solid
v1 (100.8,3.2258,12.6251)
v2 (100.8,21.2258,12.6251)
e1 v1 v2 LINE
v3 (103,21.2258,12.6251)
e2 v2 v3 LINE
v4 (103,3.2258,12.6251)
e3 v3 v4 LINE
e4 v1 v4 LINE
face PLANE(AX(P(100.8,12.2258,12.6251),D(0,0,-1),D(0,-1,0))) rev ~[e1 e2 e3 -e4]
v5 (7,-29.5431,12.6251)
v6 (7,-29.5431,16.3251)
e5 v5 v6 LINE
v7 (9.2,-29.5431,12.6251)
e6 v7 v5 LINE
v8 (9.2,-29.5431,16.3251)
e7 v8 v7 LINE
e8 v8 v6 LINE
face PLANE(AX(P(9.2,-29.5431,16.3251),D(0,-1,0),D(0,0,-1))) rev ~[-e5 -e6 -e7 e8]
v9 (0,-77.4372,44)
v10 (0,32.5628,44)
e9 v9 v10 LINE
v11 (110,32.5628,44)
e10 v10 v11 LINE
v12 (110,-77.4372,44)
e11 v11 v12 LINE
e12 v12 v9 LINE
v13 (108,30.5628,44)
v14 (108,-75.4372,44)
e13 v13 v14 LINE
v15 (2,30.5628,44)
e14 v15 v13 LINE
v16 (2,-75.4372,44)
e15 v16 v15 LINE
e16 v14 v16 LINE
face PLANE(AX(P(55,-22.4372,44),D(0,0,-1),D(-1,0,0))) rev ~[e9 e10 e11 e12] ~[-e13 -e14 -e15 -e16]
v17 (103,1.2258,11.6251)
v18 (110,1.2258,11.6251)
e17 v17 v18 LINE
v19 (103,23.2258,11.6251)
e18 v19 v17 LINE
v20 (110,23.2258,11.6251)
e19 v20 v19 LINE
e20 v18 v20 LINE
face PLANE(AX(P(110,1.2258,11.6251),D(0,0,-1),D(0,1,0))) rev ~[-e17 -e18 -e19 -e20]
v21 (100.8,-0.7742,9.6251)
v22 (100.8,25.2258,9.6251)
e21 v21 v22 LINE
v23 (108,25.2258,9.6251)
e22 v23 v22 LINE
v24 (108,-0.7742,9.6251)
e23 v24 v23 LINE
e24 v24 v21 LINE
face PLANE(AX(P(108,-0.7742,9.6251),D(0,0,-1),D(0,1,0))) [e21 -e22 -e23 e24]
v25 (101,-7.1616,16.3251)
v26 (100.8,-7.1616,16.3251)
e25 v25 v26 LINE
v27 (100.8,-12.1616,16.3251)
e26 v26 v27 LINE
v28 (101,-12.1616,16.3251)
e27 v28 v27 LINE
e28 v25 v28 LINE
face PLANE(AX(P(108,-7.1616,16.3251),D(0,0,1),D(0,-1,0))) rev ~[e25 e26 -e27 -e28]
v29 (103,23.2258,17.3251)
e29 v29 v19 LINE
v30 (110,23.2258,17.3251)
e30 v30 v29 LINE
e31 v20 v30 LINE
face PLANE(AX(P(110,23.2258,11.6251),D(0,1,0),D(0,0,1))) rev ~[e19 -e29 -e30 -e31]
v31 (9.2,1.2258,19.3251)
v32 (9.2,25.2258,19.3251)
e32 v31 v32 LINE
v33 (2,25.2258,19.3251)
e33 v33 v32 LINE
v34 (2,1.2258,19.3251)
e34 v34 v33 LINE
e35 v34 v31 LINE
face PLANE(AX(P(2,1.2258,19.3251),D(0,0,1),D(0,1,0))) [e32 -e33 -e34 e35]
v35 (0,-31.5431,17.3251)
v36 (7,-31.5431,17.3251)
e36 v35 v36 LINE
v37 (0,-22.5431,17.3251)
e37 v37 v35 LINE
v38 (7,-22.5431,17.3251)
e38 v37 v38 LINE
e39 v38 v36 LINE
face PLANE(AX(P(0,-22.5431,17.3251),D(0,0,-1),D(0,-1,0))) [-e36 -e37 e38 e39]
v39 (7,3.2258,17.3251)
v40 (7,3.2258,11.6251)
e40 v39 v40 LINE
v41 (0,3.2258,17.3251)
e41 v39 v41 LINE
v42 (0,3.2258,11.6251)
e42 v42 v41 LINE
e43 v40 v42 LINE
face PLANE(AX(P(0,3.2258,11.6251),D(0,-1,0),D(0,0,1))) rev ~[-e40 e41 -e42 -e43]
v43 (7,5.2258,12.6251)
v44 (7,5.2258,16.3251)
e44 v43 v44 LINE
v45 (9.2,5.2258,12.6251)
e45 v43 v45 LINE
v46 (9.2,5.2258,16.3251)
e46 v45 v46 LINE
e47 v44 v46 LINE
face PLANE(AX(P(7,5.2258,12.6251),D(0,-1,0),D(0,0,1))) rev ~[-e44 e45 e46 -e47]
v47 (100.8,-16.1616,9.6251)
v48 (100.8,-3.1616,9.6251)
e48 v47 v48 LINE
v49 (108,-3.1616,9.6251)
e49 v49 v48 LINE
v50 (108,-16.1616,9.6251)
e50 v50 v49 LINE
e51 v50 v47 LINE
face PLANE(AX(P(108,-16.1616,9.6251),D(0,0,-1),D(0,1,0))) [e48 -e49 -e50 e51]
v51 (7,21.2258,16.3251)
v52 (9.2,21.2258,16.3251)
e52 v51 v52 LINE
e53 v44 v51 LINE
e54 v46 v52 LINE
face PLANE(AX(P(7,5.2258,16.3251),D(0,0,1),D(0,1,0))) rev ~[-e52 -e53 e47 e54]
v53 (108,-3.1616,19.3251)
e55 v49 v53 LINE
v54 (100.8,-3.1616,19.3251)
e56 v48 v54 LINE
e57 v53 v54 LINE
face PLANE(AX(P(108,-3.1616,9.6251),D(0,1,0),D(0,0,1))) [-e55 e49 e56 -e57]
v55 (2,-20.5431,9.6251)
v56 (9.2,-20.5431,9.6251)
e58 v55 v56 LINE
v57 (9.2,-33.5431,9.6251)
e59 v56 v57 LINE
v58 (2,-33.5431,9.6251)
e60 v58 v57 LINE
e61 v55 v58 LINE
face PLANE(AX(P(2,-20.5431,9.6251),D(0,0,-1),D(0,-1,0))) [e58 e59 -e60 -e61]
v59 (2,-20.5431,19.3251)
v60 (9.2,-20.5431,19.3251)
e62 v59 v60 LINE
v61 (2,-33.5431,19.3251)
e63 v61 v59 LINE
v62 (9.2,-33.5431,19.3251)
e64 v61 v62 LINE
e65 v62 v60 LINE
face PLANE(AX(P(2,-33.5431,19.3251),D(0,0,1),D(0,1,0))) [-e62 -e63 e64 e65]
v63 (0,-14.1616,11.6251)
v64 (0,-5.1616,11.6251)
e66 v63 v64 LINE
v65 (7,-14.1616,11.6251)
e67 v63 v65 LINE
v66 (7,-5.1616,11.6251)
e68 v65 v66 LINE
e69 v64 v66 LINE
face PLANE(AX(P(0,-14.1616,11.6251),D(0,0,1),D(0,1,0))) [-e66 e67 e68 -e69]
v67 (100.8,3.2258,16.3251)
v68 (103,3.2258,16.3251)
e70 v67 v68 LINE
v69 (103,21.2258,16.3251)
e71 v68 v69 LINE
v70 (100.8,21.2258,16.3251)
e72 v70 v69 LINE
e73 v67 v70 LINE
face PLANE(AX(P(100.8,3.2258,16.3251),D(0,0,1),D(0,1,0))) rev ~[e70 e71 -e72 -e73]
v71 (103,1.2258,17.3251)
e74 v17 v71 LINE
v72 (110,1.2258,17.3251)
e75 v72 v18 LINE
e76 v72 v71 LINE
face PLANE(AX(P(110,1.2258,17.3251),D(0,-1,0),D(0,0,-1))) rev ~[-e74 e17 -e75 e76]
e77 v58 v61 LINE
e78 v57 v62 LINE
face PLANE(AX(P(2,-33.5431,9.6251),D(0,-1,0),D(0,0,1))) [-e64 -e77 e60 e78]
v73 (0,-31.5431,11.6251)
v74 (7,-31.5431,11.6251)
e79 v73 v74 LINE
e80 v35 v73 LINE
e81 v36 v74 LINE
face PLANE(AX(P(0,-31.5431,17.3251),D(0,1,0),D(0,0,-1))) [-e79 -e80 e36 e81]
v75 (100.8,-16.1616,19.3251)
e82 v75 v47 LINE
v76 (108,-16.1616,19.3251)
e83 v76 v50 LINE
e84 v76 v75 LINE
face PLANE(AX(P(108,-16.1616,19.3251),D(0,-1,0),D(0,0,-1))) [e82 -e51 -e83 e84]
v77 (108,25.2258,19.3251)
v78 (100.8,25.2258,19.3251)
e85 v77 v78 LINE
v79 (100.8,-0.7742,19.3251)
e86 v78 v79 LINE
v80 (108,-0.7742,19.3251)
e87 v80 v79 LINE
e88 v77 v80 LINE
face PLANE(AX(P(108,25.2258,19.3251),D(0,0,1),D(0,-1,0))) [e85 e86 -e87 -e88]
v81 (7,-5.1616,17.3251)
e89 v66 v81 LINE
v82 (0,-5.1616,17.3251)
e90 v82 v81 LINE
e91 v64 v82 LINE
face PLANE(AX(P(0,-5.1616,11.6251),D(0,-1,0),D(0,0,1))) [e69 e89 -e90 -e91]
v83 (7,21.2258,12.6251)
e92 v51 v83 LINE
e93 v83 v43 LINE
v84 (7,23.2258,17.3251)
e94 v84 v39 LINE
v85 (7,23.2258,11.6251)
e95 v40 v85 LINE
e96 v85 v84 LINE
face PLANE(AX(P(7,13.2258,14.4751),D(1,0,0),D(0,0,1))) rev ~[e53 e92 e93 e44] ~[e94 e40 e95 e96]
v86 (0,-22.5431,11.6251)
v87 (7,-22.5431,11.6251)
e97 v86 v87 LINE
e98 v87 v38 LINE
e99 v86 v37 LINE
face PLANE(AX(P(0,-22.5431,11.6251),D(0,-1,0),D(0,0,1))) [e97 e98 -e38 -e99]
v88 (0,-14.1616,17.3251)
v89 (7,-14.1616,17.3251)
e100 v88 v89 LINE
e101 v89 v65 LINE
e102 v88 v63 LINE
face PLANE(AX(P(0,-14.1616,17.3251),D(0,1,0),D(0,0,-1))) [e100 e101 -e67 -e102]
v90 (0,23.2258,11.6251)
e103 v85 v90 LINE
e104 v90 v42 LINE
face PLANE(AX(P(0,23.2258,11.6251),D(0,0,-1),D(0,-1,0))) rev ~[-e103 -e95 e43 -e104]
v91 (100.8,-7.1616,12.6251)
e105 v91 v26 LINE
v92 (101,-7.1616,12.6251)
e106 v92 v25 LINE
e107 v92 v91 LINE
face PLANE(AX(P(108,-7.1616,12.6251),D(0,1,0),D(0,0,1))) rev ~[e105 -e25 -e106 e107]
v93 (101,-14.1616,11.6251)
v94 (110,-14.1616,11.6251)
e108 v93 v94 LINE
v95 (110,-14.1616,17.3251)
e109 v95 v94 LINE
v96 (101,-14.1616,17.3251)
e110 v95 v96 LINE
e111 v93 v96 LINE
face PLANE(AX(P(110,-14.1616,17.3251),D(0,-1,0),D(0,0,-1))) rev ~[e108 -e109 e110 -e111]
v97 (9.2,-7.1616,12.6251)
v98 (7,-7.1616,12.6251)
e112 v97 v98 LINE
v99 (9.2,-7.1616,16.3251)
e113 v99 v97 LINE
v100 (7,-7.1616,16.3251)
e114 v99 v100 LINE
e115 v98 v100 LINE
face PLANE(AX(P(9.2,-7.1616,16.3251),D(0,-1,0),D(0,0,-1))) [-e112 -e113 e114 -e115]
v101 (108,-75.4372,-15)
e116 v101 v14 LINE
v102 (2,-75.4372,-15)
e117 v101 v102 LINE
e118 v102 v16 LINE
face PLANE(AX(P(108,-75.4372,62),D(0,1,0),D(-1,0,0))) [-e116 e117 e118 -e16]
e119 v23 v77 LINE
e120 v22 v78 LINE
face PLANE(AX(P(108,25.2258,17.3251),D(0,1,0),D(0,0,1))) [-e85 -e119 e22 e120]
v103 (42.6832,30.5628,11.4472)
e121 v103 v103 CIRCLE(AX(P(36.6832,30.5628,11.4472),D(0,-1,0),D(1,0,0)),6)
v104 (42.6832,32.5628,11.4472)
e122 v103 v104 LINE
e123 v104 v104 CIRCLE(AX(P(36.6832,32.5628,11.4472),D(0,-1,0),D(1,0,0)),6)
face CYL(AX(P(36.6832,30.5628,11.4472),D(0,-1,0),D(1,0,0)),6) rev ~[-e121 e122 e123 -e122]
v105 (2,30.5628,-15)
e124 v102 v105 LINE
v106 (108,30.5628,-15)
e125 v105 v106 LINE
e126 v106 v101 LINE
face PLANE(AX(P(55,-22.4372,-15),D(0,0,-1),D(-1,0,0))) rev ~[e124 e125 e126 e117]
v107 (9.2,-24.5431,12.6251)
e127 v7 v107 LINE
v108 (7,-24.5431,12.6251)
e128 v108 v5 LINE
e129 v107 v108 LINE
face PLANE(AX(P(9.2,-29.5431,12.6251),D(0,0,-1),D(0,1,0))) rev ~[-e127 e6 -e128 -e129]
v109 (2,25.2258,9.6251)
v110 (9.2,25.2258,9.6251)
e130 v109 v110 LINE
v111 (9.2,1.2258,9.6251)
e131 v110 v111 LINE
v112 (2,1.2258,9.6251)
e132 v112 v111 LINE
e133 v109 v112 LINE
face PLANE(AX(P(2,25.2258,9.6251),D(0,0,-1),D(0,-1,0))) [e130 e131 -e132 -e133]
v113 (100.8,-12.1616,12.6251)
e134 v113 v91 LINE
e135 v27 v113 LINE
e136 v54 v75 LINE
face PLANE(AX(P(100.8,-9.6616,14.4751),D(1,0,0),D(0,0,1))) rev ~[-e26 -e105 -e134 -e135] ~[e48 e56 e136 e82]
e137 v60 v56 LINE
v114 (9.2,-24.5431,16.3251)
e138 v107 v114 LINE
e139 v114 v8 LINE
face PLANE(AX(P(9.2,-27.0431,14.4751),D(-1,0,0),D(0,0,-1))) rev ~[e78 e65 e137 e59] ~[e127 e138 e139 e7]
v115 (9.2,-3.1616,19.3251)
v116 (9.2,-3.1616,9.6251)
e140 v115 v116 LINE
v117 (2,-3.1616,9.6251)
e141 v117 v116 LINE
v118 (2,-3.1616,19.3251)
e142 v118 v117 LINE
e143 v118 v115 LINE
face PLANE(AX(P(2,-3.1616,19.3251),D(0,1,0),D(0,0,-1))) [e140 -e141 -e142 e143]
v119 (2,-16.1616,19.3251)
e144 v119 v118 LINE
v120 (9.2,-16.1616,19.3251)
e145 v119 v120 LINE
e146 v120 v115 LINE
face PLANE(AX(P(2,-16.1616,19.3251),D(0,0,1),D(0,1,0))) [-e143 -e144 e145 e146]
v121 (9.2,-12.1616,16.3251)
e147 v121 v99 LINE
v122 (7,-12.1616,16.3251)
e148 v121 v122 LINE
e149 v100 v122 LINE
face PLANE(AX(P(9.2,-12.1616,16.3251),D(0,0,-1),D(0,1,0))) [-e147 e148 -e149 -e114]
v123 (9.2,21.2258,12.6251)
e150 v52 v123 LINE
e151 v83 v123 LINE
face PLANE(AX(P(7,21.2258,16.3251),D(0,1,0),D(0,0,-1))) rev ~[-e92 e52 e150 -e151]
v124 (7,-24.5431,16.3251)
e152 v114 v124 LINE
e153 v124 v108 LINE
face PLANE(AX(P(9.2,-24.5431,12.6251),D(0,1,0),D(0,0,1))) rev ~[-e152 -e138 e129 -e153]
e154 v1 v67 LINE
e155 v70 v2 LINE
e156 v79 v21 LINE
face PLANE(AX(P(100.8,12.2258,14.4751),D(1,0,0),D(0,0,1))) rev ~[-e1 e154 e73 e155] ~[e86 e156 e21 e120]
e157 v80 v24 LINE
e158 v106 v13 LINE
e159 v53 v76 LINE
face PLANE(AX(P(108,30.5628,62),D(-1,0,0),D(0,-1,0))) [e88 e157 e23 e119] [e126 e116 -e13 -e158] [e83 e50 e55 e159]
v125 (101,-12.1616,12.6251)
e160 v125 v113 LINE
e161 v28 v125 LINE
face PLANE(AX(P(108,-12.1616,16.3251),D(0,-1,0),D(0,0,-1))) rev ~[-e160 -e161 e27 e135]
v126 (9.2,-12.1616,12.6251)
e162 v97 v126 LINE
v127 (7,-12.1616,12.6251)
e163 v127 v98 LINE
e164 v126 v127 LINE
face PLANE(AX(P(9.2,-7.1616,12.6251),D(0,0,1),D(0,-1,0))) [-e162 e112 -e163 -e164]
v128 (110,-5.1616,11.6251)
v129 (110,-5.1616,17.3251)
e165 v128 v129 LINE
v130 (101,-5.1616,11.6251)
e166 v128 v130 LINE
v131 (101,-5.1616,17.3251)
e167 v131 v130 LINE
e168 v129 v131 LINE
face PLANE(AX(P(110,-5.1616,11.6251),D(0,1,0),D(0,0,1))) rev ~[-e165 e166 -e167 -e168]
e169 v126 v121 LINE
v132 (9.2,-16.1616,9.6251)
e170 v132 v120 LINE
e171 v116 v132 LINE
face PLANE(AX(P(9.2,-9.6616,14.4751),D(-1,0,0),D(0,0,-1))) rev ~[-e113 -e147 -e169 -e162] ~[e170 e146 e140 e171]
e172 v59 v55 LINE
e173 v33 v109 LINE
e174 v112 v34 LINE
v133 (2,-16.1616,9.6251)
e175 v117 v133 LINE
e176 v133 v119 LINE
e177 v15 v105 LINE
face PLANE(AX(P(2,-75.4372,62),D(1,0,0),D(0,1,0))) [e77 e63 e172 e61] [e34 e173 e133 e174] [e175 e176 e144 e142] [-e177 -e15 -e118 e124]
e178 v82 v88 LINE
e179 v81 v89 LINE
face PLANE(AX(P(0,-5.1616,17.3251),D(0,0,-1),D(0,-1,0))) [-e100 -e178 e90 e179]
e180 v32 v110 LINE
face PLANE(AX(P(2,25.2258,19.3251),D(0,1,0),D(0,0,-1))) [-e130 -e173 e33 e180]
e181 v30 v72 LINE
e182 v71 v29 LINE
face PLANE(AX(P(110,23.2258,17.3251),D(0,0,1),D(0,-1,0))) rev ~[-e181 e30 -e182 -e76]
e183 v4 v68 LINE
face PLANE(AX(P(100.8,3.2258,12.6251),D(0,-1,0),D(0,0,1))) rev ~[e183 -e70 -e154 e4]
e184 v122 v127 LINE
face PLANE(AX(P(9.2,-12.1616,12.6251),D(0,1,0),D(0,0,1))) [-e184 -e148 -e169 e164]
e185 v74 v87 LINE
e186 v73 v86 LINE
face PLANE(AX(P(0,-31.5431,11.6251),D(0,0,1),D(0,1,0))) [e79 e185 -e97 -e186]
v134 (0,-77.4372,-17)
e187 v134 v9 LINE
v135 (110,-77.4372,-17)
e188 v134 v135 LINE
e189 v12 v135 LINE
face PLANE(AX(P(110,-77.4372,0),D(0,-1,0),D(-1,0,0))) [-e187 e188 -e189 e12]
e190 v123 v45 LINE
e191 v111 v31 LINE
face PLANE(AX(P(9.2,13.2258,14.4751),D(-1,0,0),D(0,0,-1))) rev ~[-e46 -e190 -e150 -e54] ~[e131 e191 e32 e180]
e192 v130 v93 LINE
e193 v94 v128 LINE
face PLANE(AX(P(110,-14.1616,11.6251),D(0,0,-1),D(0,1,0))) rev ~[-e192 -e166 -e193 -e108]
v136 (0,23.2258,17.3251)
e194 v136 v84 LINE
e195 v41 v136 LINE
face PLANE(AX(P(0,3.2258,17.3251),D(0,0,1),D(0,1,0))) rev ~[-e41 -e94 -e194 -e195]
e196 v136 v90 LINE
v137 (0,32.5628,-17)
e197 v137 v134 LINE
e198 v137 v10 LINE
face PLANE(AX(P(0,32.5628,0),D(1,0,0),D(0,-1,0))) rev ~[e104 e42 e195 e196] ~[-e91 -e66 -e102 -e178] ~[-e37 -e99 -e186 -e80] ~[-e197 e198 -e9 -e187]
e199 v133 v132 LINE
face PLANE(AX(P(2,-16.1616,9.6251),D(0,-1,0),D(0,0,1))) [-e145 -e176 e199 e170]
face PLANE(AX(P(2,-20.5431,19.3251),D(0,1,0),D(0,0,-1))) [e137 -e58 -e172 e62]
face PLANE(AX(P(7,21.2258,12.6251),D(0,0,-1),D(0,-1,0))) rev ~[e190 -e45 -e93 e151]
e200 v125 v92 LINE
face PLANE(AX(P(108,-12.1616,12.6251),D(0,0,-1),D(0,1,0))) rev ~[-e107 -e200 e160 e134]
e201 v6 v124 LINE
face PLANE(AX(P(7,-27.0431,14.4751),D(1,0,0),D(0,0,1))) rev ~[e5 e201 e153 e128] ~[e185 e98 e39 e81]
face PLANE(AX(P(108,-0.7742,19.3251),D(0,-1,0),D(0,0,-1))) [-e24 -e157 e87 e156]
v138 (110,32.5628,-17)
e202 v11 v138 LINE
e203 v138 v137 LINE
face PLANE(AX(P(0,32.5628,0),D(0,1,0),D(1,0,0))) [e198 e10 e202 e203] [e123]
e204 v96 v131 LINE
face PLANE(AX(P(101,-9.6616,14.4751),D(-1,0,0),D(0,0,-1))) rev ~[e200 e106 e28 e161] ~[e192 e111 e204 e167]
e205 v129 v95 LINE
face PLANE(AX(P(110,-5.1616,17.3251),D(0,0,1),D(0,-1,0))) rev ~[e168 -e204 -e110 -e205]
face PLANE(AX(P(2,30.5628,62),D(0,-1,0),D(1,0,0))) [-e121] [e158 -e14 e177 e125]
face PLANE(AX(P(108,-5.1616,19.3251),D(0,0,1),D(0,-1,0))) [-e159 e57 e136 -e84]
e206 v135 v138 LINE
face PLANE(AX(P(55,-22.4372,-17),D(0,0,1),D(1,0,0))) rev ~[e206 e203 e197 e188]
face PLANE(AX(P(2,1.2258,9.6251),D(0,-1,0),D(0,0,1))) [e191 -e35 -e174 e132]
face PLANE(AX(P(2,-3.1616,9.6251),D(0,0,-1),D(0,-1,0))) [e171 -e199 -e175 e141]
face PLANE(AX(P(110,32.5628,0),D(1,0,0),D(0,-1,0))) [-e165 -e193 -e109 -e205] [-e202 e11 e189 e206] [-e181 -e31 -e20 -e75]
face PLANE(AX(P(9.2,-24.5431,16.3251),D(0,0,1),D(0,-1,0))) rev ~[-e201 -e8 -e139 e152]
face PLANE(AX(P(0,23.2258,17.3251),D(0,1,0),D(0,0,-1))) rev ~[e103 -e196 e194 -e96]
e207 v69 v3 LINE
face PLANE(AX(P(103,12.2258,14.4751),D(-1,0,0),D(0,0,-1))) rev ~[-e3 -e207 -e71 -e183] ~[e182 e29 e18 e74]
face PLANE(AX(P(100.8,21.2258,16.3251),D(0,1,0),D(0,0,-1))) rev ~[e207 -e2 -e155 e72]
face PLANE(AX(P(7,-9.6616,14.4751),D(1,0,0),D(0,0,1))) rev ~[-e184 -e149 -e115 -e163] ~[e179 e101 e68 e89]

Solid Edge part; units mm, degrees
sketch "Sketch1" plane through (0, 0, 0) normal (0, 0, 1) x (1, 0, 0)
  line L0 (0, 32.5628) -> (110, 32.5628)
  line L1 (110, 32.5628) -> (110, -77.4372)
  line L2 (110, -77.4372) -> (0, -77.4372)
  line L3 (0, 32.5628) -> (0, -77.4372)
extrude "Protrusion1" add sketch "Sketch1" along normal blind 27
sketch "Sketch2" plane through (55, -22.4372, 27) normal (0, 0, 1) x (1, 0, 0)
  line L0 (-53, -53) -> (53, -53)
  line L1 (53, -53) -> (53, 53)
  line L2 (53, 53) -> (-53, 53)
  line L3 (-53, 53) -> (-53, -53)
extrude "ExtrudedCutout_1" cut sketch "Sketch2" against normal blind 25
sketch "Sketch3" plane through (55, 30.5628, 14.5) normal (0, -1, 0) x (1, 0, 0)
  circle A0 centre (-18.3168, -3.0528) radius 6
extrude "ExtrudedCutout_2" cut sketch "Sketch3" against normal blind 2
sketch "Sketch4" plane through (110, -22.4372, 13.5) normal (1, 0, 0) x (0, 1, 0)
  line L0 (23.663, -1.8749) -> (45.663, -1.8749)
  line L1 (45.663, -1.8749) -> (45.663, 3.8251)
  line L2 (45.663, 3.8251) -> (23.663, 3.8251)
  line L3 (23.663, 3.8251) -> (23.663, -1.8749)
extrude "ExtrudedCutout_3" cut sketch "Sketch4" against normal blind 2
sketch "Sketch5" plane through (108, -22.4372, 14.5) normal (-1, 0, 0) x (0, 0, 1)
  line L0 (2.8251, 47.663) -> (4.8251, 47.663)
  line L1 (4.8251, 47.663) -> (4.8251, 21.663)
  line L2 (4.8251, 21.663) -> (-4.8749, 21.663)
  line L3 (-4.8749, 21.663) -> (-4.8749, 47.663)
  line L4 (-4.8749, 47.663) -> (2.8251, 47.663)
extrude "ExtrudedProtrusion_2" add sketch "Sketch5" along normal blind 7.2
sketch "Sketch6" plane through (110, -22.4372, 13.5) normal (1, 0, 0) x (0, 1, 0)
  line L0 (23.663, 3.8251) -> (45.663, 3.8251)
  line L1 (45.663, 3.8251) -> (45.663, -1.8749)
  line L2 (45.663, -1.8749) -> (23.663, -1.8749)
  line L3 (23.663, -1.8749) -> (23.663, 3.8251)
extrude "ExtrudedCutout_4" cut sketch "Sketch6" against normal blind 7
sketch "Sketch7" plane through (100.8, 12.2258, 14.4751) normal (-1, 0, 0) x (0, -1, 0)
  line L0 (0, -1.85) -> (9, -1.85)
  line L1 (9, -1.85) -> (9, 1.85)
  line L2 (9, 1.85) -> (-9, 1.85)
  line L3 (-9, 1.85) -> (-9, -1.85)
  line L4 (-9, -1.85) -> (0, -1.85)
extrude "ExtrudedCutout_5" cut sketch "Sketch7" against normal blind 26.8721
sketch "Sketch8" plane through (110, -22.4372, 13.5) normal (1, 0, 0) x (0, 1, 0)
  line L0 (8.2756, -1.8749) -> (17.2756, -1.8749)
  line L1 (17.2756, -1.8749) -> (17.2756, 3.8251)
  line L2 (17.2756, 3.8251) -> (8.2756, 3.8251)
  line L3 (8.2756, 3.8251) -> (8.2756, -1.8749)
extrude "ExtrudedCutout_6" cut sketch "Sketch8" against normal blind 30.5101
sketch "Sketch9" plane through (108, -22.4372, 14.5) normal (-1, 0, 0) x (0, -1, 0)
  line L0 (-17.2756, 4.8251) -> (-6.2756, 4.8251)
  line L1 (-6.2756, 4.8251) -> (-6.2756, -4.8749)
  line L2 (-6.2756, -4.8749) -> (-19.2756, -4.8749)
  line L3 (-19.2756, -4.8749) -> (-19.2756, 4.8251)
  line L4 (-19.2756, 4.8251) -> (-17.2756, 4.8251)
extrude "ExtrudedProtrusion_3" add sketch "Sketch9" along normal blind 7.2
sketch "Sketch10" plane through (108, -9.6616, 14.4751) normal (1, 0, 0) x (0, 1, 0)
  line L0 (-2.5, -1.85) -> (0, -1.85)
  line L1 (0, -1.85) -> (2.5, -1.85)
  line L2 (2.5, -1.85) -> (2.5, 1.85)
  line L3 (2.5, 1.85) -> (-2.5, 1.85)
  line L4 (-2.5, 1.85) -> (-2.5, -1.85)
extrude "ExtrudedCutout_8" cut sketch "Sketch10" against normal blind 9.4627
sketch "Sketch11" plane through (108, -9.6616, 14.4751) normal (1, 0, 0) x (0, 1, 0)
  line L0 (-4.5, 2.85) -> (4.5, 2.85)
  line L1 (4.5, 2.85) -> (4.5, -2.85)
  line L2 (4.5, -2.85) -> (-4.5, -2.85)
  line L3 (-4.5, -2.85) -> (-4.5, 2.85)
extrude "ExtrudedCutout_10" cut sketch "Sketch11" against normal blind 7
sketch "Sketch12" plane through (0, -22.4372, 13.5) normal (-1, 0, 0) x (0, -1, 0)
  line L0 (-45.663, 3.8251) -> (-45.663, -1.8749)
  line L1 (-45.663, -1.8749) -> (-25.663, -1.8749)
  line L2 (-25.663, -1.8749) -> (-25.663, 3.8251)
  line L3 (-25.663, 3.8251) -> (-45.663, 3.8251)
extrude "ExtrudedCutout_11" cut sketch "Sketch12" against normal blind 2
sketch "Sketch13" plane through (2, -22.4372, 14.5) normal (1, 0, 0) x (0, 0, -1)
  line L0 (4.8749, 23.663) -> (-4.8251, 23.663)
  line L1 (-4.8251, 23.663) -> (-4.8251, 47.663)
  line L2 (-4.8251, 47.663) -> (4.8749, 47.663)
  line L3 (4.8749, 47.663) -> (4.8749, 23.663)
extrude "ExtrudedProtrusion_4" add sketch "Sketch13" along normal blind 7.2
sketch "Sketch14" plane through (0, -22.4372, 13.5) normal (-1, 0, 0) x (0, -1, 0)
  line L0 (-45.663, -1.8749) -> (-45.663, 3.8251)
  line L1 (-45.663, 3.8251) -> (-25.663, 3.8251)
  line L2 (-25.663, 3.8251) -> (-25.663, -1.8749)
  line L3 (-25.663, -1.8749) -> (-45.663, -1.8749)
extrude "ExtrudedCutout_12" cut sketch "Sketch14" against normal blind 7
sketch "Sketch15" plane through (7, 13.2258, 14.4751) normal (-1, 0, 0) x (0, 0, 1)
  line L0 (1.85, 8) -> (-1.85, 8)
  line L1 (-1.85, 8) -> (-1.85, -8)
  line L2 (-1.85, -8) -> (1.85, -8)
  line L3 (1.85, -8) -> (1.85, 8)
extrude "Cutout1" cut sketch "Sketch15" against normal blind 13.8716
sketch "Sketch16" plane through (2, -22.4372, 14.5) normal (1, 0, 0) x (0, 0, -1)
  line L0 (-4.8251, 19.2756) -> (4.8749, 19.2756)
  line L1 (4.8749, 19.2756) -> (4.8749, 6.2756)
  line L2 (4.8749, 6.2756) -> (-4.8251, 6.2756)
  line L3 (-4.8251, 6.2756) -> (-4.8251, 19.2756)
extrude "ExtrudedProtrusion_7" add sketch "Sketch16" along normal blind 7.2
sketch "Sketch17" plane through (9.2, -9.6616, 14.4751) normal (1, 0, 0) x (0, 0, -1)
  line L0 (-1.85, 2.5) -> (1.85, 2.5)
  line L1 (1.85, 2.5) -> (1.85, -2.5)
  line L2 (1.85, -2.5) -> (-1.85, -2.5)
  line L3 (-1.85, -2.5) -> (-1.85, 2.5)
extrude "ExtrudedCutout_16" cut sketch "Sketch17" against normal blind 15.454
sketch "Sketch18" plane through (0, -22.4372, 13.5) normal (-1, 0, 0) x (0, 0, 1)
  line L0 (-1.8749, 17.2756) -> (3.8251, 17.2756)
  line L1 (3.8251, 17.2756) -> (3.8251, 8.2756)
  line L2 (3.8251, 8.2756) -> (-1.8749, 8.2756)
  line L3 (-1.8749, 8.2756) -> (-1.8749, 17.2756)
extrude "ExtrudedCutout_17" cut sketch "Sketch18" against normal blind 7
sketch "Sketch19" plane through (2, -22.4372, 14.5) normal (1, 0, 0) x (0, 0, -1)
  line L0 (-4.8251, 1.8941) -> (4.8749, 1.8941)
  line L1 (4.8749, 1.8941) -> (4.8749, -11.1059)
  line L2 (4.8749, -11.1059) -> (-4.8251, -11.1059)
  line L3 (-4.8251, -11.1059) -> (-4.8251, 1.8941)
extrude "ExtrudedProtrusion_8" add sketch "Sketch19" along normal blind 7.2
sketch "Sketch20" plane through (9.2, -27.0431, 14.4751) normal (1, 0, 0) x (0, 0, -1)
  line L0 (-1.85, 2.5) -> (-1.85, -2.5)
  line L1 (-1.85, -2.5) -> (1.85, -2.5)
  line L2 (1.85, -2.5) -> (1.85, 2.5)
  line L3 (1.85, 2.5) -> (-1.85, 2.5)
extrude "ExtrudedCutout_18" cut sketch "Sketch20" against normal blind 324.0976
sketch "Sketch21" plane through (0, -22.4372, 13.5) normal (-1, 0, 0) x (0, 0, 1)
  line L0 (-1.8749, -0.1059) -> (3.8251, -0.1059)
  line L1 (3.8251, -0.1059) -> (3.8251, -9.1059)
  line L2 (3.8251, -9.1059) -> (-1.8749, -9.1059)
  line L3 (-1.8749, -9.1059) -> (-1.8749, -0.1059)
extrude "ExtrudedCutout_19" cut sketch "Sketch21" against normal blind 7
sketch "Sketch22" plane through (55, -22.4372, 27) normal (0, 0, 1) x (1, 0, 0)
  line L0 (-55, 55) -> (55, 55)
  line L1 (55, 55) -> (55, -55)
  line L2 (55, -55) -> (-55, -55)
  line L3 (-55, -55) -> (-55, 55)
extrude "ExtrudedProtrusion_9" add sketch "Sketch22" along normal blind 35
sketch "Sketch23" plane through (55, -22.4372, 62) normal (0, 0, 1) x (1, 0, 0)
  line L0 (-53, 53) -> (53, 53)
  line L1 (53, 53) -> (53, -53)
  line L2 (53, -53) -> (-53, -53)
  line L3 (-53, -53) -> (-53, 53)
extrude "Cutout2" cut sketch "Sketch23" against normal blind 35
sketch "Sketch24" plane through (55, -22.4372, 62) normal (0, 0, 1) x (1, 0, 0)
  line L0 (-55, 55) -> (55, 55)
  line L1 (55, 55) -> (55, -55)
  line L2 (55, -55) -> (-55, -55)
  line L3 (-55, -55) -> (-55, 55)
extrude "ExtrudedCutout_21" cut sketch "Sketch24" against normal blind 18
sketch "Sketch25" plane through (55, -22.4372, 0) normal (0, 0, -1) x (-1, 0, 0)
  line L0 (-55, 55) -> (55, 55)
  line L1 (55, 55) -> (55, -55)
  line L2 (55, -55) -> (-55, -55)
  line L3 (-55, -55) -> (-55, 55)
extrude "Protrusion2" add sketch "Sketch25" along normal blind 17
sketch "Sketch26" plane through (55, -22.4372, 2) normal (0, 0, 1) x (-1, 0, 0)
  line L0 (-53, 53) -> (53, 53)
  line L1 (53, 53) -> (53, -53)
  line L2 (53, -53) -> (-53, -53)
  line L3 (-53, -53) -> (-53, 53)
extrude "ExtrudedCutout_22" cut sketch "Sketch26" against normal blind 17
